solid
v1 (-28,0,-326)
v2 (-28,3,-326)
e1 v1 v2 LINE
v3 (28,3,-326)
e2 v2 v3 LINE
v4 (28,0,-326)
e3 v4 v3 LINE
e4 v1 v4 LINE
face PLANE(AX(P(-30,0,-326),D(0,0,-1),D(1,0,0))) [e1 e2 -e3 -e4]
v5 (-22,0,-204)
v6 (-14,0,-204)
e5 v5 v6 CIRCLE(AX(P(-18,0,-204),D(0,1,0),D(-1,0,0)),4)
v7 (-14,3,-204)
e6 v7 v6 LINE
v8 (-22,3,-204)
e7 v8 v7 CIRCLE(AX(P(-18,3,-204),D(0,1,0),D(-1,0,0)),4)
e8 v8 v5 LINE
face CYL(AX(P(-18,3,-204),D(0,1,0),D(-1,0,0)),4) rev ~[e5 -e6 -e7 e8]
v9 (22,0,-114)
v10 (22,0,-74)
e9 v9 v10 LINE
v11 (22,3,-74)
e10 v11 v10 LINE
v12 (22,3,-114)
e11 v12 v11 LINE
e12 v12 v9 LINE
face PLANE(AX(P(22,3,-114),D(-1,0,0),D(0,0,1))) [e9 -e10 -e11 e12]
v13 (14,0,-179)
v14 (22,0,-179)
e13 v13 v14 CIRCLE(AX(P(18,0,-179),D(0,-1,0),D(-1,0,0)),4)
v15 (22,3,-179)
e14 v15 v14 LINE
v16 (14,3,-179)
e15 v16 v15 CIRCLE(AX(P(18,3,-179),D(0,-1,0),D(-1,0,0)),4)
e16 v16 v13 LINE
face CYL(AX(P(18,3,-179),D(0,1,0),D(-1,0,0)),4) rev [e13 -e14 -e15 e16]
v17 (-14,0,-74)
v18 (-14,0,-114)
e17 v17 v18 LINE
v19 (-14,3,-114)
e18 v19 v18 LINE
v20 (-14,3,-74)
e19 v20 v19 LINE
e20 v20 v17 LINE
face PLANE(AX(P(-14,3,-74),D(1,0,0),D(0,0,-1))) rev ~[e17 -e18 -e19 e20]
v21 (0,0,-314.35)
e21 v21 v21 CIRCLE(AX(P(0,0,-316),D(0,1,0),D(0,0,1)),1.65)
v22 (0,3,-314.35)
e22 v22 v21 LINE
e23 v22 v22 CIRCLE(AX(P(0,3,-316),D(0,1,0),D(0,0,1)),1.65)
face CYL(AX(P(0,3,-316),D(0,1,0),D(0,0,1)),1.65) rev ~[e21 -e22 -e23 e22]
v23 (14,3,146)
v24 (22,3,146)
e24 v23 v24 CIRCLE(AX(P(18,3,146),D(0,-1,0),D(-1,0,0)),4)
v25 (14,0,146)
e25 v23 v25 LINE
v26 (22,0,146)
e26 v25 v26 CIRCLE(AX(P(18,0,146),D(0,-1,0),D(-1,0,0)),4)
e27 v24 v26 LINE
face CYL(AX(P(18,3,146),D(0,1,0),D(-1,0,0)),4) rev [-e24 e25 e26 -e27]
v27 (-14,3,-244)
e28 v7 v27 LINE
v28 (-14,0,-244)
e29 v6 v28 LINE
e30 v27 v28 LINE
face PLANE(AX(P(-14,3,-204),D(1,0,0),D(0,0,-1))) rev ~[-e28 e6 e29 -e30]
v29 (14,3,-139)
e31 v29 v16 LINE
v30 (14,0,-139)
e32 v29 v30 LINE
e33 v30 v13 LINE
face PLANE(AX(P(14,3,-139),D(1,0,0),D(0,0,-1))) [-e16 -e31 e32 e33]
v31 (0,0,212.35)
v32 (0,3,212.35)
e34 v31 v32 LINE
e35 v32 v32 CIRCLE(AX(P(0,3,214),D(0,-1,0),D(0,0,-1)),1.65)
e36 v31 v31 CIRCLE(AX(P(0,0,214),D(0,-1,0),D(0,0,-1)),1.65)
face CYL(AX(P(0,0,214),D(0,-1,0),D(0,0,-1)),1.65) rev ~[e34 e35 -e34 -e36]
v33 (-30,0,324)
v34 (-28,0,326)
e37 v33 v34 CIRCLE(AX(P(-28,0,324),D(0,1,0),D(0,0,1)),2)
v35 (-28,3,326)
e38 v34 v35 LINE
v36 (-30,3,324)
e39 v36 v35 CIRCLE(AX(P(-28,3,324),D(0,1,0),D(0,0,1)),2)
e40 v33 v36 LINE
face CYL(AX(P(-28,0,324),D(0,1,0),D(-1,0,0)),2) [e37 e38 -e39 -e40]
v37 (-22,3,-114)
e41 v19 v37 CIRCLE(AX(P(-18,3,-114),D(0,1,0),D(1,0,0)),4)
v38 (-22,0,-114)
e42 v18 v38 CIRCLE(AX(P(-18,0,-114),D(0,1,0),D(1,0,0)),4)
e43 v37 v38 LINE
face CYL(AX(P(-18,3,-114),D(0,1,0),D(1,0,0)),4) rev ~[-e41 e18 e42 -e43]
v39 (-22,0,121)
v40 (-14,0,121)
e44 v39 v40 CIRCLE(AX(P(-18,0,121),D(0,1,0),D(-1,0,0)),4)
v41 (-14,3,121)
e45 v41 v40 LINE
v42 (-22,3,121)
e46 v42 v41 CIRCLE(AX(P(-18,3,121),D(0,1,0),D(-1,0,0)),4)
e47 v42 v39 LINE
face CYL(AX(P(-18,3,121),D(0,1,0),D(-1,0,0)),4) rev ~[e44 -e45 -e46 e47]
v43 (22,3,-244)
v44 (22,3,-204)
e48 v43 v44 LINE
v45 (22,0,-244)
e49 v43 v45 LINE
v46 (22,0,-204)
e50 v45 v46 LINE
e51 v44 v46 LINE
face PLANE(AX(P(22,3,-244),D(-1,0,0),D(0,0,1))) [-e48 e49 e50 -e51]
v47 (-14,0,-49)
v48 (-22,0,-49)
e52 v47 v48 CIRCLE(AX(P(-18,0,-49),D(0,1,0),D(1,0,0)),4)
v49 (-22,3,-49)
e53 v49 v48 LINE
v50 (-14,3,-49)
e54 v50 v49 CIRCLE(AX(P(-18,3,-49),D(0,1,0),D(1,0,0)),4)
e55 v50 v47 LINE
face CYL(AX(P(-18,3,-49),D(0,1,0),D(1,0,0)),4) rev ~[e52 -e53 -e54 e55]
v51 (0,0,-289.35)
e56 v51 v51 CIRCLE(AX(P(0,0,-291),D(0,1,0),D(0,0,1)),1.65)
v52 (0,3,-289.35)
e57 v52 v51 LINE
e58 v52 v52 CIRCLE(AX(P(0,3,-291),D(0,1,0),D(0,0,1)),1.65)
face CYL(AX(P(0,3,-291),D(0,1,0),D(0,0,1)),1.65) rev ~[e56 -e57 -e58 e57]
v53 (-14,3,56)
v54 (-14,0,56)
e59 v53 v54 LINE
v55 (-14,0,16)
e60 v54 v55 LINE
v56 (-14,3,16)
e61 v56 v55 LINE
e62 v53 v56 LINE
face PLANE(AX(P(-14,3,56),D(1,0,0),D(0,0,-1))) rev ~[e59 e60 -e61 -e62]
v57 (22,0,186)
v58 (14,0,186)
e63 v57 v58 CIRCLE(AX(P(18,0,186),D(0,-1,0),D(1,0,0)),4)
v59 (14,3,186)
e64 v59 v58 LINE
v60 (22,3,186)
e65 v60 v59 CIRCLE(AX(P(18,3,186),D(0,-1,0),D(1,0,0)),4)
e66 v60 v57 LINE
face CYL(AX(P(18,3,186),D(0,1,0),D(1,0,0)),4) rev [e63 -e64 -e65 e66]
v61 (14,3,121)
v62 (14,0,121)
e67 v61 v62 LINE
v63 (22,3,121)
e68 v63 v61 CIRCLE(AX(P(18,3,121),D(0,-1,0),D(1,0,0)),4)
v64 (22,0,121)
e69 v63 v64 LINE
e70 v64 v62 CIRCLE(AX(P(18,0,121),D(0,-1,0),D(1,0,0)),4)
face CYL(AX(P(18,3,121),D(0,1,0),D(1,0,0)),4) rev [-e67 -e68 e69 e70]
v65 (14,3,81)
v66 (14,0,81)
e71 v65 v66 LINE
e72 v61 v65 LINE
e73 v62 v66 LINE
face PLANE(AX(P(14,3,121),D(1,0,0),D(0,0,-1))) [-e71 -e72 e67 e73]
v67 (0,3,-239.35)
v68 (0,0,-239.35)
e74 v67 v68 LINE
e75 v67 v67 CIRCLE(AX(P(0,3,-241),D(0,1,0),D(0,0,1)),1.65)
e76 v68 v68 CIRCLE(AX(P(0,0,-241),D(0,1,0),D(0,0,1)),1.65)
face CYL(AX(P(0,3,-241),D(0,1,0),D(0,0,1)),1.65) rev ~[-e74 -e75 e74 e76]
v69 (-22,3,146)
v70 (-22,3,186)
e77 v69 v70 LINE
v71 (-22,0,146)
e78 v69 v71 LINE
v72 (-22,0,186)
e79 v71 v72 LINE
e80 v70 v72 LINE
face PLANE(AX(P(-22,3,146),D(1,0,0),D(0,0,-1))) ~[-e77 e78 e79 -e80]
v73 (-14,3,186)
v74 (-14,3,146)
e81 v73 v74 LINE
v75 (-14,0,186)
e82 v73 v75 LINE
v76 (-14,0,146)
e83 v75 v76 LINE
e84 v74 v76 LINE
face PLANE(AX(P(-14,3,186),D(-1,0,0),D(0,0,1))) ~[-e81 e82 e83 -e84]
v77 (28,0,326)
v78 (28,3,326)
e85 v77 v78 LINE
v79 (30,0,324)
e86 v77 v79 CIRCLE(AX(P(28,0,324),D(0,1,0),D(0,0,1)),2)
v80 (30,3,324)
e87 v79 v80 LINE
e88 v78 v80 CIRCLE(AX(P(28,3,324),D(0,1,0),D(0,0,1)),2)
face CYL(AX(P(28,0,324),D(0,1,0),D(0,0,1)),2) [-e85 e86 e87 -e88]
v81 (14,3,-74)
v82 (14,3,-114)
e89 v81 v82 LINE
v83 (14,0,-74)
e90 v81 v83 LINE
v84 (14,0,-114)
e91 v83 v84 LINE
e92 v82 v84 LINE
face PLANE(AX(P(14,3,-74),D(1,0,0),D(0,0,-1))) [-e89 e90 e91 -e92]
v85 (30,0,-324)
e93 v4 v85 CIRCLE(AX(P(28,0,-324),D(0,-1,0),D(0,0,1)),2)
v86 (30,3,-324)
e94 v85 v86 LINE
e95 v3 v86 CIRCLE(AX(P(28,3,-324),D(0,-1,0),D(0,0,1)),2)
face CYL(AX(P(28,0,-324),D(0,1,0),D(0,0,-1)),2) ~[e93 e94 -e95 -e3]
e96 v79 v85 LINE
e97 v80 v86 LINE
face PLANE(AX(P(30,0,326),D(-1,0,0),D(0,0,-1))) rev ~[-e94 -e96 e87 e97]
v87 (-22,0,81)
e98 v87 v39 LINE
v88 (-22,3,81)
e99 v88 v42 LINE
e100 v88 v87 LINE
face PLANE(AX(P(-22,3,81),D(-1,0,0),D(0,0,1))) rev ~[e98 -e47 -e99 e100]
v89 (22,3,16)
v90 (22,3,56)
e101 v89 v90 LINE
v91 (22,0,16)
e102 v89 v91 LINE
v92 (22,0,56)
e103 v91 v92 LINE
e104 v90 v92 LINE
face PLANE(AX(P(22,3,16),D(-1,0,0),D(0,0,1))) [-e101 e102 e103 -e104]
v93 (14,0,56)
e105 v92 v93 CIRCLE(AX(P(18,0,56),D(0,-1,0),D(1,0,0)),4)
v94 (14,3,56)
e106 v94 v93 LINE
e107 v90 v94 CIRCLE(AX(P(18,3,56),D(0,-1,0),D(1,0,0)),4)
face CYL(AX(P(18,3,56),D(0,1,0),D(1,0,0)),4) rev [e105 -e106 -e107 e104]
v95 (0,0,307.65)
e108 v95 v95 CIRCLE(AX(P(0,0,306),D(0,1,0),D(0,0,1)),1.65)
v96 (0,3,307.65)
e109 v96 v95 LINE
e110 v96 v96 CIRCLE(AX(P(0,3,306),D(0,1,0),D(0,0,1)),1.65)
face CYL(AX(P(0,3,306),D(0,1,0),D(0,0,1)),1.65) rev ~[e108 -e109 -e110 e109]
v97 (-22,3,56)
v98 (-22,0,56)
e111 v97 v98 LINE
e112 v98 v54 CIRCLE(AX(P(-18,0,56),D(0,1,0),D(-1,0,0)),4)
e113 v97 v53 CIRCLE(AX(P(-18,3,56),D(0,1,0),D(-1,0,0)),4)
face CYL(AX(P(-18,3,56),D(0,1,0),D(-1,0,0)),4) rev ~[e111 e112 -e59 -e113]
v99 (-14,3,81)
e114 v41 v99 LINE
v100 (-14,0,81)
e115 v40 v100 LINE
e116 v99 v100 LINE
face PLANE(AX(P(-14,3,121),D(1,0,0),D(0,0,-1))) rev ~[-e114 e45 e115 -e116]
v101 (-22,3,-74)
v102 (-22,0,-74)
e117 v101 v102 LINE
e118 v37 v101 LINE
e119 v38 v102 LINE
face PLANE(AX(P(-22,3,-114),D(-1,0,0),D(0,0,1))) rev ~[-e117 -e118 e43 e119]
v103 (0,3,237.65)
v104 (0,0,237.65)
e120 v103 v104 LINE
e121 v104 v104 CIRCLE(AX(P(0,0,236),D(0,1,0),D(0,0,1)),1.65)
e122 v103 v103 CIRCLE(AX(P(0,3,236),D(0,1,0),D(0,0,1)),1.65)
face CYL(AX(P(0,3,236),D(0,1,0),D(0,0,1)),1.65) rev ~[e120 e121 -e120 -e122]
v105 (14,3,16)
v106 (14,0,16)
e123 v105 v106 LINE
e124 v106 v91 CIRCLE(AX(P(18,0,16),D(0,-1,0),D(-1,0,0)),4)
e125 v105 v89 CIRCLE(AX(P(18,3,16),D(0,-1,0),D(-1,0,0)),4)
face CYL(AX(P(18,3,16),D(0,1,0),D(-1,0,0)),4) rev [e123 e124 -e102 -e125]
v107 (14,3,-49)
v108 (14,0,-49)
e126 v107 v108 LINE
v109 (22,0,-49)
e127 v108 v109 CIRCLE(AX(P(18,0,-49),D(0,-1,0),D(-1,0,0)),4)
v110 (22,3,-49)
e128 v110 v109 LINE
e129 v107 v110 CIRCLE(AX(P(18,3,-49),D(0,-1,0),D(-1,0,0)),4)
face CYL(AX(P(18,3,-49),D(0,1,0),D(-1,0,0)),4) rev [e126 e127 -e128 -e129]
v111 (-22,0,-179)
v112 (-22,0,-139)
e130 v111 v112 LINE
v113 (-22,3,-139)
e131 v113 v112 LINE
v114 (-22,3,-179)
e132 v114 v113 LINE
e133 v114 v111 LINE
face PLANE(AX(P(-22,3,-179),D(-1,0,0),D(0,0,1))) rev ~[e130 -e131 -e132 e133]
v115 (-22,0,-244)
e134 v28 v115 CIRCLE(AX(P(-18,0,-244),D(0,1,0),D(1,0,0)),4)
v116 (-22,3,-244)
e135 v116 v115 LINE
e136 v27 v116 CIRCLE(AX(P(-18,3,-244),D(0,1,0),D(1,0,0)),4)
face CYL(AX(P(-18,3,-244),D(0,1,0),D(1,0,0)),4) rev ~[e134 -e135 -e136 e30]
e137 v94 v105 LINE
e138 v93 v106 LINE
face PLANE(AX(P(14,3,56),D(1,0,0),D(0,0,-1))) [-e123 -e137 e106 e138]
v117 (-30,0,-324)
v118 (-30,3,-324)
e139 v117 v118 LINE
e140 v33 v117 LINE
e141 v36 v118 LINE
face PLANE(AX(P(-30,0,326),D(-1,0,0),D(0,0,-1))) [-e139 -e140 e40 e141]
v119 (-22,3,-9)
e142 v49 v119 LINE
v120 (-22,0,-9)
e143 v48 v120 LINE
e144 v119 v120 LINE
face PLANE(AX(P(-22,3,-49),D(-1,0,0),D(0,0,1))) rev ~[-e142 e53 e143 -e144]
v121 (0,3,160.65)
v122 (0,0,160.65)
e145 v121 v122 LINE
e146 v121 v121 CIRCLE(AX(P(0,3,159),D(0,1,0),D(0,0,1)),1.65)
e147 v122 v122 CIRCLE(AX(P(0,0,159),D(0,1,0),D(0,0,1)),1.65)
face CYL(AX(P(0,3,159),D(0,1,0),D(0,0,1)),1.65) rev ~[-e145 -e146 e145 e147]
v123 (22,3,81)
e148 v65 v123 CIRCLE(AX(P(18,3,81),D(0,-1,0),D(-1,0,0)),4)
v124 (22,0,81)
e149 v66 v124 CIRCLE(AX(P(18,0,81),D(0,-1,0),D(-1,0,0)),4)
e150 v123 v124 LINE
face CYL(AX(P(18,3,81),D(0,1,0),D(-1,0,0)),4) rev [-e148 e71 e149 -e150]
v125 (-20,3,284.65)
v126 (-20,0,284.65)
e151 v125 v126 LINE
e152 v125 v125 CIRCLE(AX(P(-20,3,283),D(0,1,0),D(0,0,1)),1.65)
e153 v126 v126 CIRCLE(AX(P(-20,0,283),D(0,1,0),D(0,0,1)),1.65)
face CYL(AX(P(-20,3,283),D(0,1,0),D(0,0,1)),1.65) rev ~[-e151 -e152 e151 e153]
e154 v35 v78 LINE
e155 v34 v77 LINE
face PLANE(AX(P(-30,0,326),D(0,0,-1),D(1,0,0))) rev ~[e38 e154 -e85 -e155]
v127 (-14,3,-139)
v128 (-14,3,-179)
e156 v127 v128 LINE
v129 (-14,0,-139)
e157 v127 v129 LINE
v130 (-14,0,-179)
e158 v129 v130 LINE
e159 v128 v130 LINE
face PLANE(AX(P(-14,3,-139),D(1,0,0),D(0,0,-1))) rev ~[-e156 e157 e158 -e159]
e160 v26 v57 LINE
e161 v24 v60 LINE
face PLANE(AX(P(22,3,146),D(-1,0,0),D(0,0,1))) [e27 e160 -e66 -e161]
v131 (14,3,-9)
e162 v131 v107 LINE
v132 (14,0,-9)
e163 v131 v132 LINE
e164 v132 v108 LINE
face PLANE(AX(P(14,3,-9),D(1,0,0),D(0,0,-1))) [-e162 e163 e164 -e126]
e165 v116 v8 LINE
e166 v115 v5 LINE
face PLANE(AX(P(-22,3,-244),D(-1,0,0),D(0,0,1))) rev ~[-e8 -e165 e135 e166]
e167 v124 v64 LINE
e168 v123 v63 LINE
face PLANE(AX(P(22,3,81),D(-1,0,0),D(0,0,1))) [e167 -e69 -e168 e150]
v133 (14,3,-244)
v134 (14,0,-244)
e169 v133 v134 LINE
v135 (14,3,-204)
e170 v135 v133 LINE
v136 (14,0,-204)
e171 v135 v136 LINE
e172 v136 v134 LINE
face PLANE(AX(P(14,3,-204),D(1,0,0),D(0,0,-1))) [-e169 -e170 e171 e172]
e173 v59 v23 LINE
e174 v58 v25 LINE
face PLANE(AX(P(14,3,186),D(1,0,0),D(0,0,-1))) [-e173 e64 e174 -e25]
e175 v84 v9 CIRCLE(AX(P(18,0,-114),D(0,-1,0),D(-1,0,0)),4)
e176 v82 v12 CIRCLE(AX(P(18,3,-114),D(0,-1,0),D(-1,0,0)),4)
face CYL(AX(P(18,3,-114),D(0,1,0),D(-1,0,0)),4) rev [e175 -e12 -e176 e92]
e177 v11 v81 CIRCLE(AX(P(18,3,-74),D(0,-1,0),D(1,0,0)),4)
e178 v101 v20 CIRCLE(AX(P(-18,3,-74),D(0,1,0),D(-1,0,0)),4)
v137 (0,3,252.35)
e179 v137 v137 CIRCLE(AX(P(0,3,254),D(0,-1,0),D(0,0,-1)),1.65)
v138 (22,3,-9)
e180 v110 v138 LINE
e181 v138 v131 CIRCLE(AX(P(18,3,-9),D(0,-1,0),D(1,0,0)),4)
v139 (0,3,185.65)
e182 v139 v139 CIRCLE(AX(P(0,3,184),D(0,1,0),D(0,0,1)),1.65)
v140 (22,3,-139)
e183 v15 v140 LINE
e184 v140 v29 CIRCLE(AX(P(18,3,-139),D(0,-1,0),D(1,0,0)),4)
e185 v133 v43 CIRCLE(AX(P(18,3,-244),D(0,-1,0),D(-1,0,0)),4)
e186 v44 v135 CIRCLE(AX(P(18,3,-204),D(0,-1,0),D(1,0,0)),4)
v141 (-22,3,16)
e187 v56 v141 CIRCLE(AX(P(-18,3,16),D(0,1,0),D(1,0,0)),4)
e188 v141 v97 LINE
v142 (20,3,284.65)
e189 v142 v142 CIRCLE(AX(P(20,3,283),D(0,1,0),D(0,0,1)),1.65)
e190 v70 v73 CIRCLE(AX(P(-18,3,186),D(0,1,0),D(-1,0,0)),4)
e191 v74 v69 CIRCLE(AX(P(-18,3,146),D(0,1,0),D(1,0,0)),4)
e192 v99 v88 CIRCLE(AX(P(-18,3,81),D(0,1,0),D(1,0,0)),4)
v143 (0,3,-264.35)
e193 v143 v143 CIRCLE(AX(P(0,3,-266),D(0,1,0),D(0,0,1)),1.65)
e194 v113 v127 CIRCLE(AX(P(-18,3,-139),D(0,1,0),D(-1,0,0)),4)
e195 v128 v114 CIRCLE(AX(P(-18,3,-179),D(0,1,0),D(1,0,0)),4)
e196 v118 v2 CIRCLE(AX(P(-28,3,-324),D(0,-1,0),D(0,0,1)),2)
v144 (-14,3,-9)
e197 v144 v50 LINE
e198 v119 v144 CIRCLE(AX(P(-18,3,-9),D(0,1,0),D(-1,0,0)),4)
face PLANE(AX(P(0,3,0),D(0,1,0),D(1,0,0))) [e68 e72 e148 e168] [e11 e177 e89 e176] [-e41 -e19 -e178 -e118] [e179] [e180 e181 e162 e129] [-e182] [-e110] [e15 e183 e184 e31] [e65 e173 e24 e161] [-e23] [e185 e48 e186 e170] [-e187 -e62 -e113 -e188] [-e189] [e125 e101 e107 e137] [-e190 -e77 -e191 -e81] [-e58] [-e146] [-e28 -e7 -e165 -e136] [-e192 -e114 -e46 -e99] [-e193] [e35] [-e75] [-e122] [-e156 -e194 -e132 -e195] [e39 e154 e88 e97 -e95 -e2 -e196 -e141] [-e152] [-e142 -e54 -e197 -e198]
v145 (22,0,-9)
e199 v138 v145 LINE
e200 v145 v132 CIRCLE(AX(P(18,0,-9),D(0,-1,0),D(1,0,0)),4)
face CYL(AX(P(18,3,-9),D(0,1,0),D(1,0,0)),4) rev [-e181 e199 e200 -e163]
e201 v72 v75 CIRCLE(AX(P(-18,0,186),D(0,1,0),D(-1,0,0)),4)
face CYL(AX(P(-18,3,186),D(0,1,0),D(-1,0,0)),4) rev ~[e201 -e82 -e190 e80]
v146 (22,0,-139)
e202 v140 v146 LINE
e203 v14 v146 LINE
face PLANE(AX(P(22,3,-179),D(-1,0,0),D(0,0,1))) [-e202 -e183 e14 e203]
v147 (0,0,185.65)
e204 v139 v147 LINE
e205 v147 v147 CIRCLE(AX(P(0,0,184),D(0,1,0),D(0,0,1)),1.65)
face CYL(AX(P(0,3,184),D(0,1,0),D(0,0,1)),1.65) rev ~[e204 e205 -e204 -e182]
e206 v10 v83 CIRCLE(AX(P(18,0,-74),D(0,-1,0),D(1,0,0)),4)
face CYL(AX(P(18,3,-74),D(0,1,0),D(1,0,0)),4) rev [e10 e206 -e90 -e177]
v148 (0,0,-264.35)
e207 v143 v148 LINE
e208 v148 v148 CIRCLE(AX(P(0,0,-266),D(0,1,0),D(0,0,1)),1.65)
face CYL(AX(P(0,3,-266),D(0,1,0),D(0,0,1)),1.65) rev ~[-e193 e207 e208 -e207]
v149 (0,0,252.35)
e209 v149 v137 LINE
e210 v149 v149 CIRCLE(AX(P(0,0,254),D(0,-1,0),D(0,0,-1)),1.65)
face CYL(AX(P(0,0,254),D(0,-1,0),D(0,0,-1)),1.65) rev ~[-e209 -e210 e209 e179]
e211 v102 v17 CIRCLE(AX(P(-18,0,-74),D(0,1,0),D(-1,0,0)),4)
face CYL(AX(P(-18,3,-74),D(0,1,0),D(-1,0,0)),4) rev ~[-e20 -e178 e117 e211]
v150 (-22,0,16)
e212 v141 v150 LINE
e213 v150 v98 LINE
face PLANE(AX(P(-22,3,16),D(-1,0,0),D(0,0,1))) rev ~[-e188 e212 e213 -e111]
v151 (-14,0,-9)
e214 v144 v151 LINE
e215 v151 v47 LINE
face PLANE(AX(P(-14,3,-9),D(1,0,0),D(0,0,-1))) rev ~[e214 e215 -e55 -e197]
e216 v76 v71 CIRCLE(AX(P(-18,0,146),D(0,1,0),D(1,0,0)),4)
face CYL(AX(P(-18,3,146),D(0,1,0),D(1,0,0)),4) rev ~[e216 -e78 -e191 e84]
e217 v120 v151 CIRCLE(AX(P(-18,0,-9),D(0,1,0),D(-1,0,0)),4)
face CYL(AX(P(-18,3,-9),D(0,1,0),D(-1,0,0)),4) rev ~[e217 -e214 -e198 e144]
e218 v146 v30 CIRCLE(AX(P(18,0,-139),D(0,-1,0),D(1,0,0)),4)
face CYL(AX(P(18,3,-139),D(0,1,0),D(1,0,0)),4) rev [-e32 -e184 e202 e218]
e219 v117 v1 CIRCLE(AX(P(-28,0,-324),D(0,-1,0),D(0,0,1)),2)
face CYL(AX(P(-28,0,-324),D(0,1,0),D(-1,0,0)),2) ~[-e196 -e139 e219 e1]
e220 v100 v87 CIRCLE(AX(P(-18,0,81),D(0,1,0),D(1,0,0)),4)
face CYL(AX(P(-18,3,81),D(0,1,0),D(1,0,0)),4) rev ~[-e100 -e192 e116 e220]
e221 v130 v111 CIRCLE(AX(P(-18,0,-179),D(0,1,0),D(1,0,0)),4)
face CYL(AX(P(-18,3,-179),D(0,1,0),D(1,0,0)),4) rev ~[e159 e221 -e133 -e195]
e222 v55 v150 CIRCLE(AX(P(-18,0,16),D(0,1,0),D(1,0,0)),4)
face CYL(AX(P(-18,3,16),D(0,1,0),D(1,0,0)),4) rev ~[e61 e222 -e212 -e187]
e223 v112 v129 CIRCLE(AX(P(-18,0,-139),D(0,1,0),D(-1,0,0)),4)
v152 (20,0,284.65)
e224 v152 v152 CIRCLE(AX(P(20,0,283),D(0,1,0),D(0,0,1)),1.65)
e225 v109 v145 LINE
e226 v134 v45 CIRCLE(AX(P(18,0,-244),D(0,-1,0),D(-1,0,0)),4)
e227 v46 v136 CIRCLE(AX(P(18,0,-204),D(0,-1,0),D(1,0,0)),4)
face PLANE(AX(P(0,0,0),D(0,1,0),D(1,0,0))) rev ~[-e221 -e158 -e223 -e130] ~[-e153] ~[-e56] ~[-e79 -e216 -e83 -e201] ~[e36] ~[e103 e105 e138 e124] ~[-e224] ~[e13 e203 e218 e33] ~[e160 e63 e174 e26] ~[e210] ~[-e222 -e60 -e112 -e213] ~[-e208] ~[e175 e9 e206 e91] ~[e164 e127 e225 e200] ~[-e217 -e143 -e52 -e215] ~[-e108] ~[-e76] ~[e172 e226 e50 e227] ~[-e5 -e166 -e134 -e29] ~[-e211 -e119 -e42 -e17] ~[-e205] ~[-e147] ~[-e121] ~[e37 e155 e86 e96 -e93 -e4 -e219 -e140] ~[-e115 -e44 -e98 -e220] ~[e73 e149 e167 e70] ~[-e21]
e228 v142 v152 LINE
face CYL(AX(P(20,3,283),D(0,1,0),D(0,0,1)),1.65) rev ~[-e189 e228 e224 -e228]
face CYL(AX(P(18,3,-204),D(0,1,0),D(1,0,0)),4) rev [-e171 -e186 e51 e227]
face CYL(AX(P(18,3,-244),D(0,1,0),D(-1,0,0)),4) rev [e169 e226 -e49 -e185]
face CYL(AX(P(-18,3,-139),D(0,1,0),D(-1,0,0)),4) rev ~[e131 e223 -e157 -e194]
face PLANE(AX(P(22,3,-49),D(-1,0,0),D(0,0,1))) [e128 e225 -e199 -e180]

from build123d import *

# Parameters (mm, degrees)
SKETCH_1_W             = 60
SKETCH_1_H             = 652
EXTRUDE_1_DEPTH        = 3
SKETCH_2_R             = 1.65
CUT_EXTRUDE_1_DEPTH    = 3
FILLET_1_R             = 2
SKETCH_4_R             = 1.65
CUT_EXTRUDE_2_DEPTH    = 10
CUT_EXTRUDE_3_DEPTH    = 3
PATTERN_LINEAR_2_COUNT = 7
PATTERN_LINEAR_2_PITCH = 65
MIRROR_1_COPY_1_DEPTH  = 3
MIRROR_1_COPY_2_DEPTH  = 3
MIRROR_1_COPY_3_DEPTH  = 3
MIRROR_1_COPY_4_DEPTH  = 3
MIRROR_1_COPY_5_DEPTH  = 3
MIRROR_1_COPY_6_DEPTH  = 3
SKETCH_6_R             = 1.65
CUT_EXTRUDE_4_DEPTH    = 10


with BuildPart() as part:
    # 草图1 → 凸台-拉伸1 (new body)
    with BuildSketch(Plane(origin=(0, 0, 0), x_dir=(1, 0, 0), z_dir=(0, 1, 0))):
        Rectangle(SKETCH_1_W, SKETCH_1_H)
    extrude(amount=EXTRUDE_1_DEPTH)

    # 草图2 → 切除-拉伸1 (cut)
    with BuildSketch(Plane(origin=(0, 3, 0), x_dir=(1, 0, 0), z_dir=(0, 1, 0))):
        with Locations(Location((0, -306, 0), (0, 0, 270))):
            Circle(SKETCH_2_R)
        with Locations(Location((0, -236, 0), (0, 0, 270))):
            Circle(SKETCH_2_R)
        with Locations(Location((0, -184, 0), (0, 0, 270))):
            Circle(SKETCH_2_R)
        with Locations(Location((0, -159, 0), (0, 0, 270))):
            Circle(SKETCH_2_R)
        with Locations(Location((0, 316, 0), (0, 0, 270))):
            Circle(SKETCH_2_R)
        with Locations(Location((0, 291, 0), (0, 0, 270))):
            Circle(SKETCH_2_R)
        with Locations(Location((0, 266, 0), (0, 0, 270))):
            Circle(SKETCH_2_R)
        with Locations(Location((0, 241, 0), (0, 0, 270))):
            Circle(SKETCH_2_R)
    extrude(amount=-CUT_EXTRUDE_1_DEPTH, mode=Mode.SUBTRACT)

    # 圆角1
    fillet_1_edges = [part.edges().sort_by_distance(p)[0] for p in [
        (30, 1.5, 326),
        (-30, 1.5, 326),
        (-30, 1.5, -326),
        (30, 1.5, -326),
    ]]
    fillet(fillet_1_edges, radius=FILLET_1_R)

    # 草图4 → 切除-拉伸2 (cut)
    with BuildSketch(Plane(origin=(0, 3, 0), x_dir=(1, 0, 0), z_dir=(0, 1, 0))):
        with Locations(Location((20, -283, 0), (0, 0, 270))):
            Circle(SKETCH_4_R)
        with Locations(Location((-20, -283, 0), (0, 0, 270))):
            Circle(SKETCH_4_R)
    extrude(amount=-CUT_EXTRUDE_2_DEPTH, mode=Mode.SUBTRACT)

    # 草图5 → 切除-拉伸3 (cut)
    with BuildSketch(Plane(origin=(0, 3, 0), x_dir=(1, 0, 0), z_dir=(0, 1, 0))):
        with BuildLine():
            Line((14, -186), (14, -146))
            ThreePointArc((14, -146), (18, -142), (22, -146))
            Line((22, -146), (22, -186))
            ThreePointArc((22, -186), (18, -190), (14, -186))
        make_face()
    cut_extrude_3 = extrude(amount=-CUT_EXTRUDE_3_DEPTH, mode=Mode.SUBTRACT)

    # 阵列(线性)2: 切除-拉伸3 ×7
    with Locations(*[(0, 0, -i * PATTERN_LINEAR_2_PITCH) for i in range(1, PATTERN_LINEAR_2_COUNT)]):
        add(cut_extrude_3, mode=Mode.SUBTRACT)

    # 镜向1: 切除-拉伸3 across plane
    add(cut_extrude_3.mirror(Plane(origin=(0, 0, 0), x_dir=(0, 0, 1), z_dir=(1, 0, 0))), mode=Mode.SUBTRACT)

    # 镜向1 copy 1 sketch → 镜向1 copy 1 (cut)
    with BuildSketch(Plane(origin=(0, 3, -65), x_dir=(-1, 0, 0), z_dir=(0, 1, 0))):
        with BuildLine():
            Line((14, 186), (14, 146))
            ThreePointArc((14, 146), (18, 142), (22, 146))
            Line((22, 146), (22, 186))
            ThreePointArc((22, 186), (18, 190), (14, 186))
        make_face()
    extrude(amount=-MIRROR_1_COPY_1_DEPTH, mode=Mode.SUBTRACT)

    # 镜向1 copy 2 sketch → 镜向1 copy 2 (cut)
    with BuildSketch(Plane(origin=(0, 3, -130), x_dir=(-1, 0, 0), z_dir=(0, 1, 0))):
        with BuildLine():
            Line((14, 186), (14, 146))
            ThreePointArc((14, 146), (18, 142), (22, 146))
            Line((22, 146), (22, 186))
            ThreePointArc((22, 186), (18, 190), (14, 186))
        make_face()
    extrude(amount=-MIRROR_1_COPY_2_DEPTH, mode=Mode.SUBTRACT)

    # 镜向1 copy 3 sketch → 镜向1 copy 3 (cut)
    with BuildSketch(Plane(origin=(0, 3, -195), x_dir=(-1, 0, 0), z_dir=(0, 1, 0))):
        with BuildLine():
            Line((14, 186), (14, 146))
            ThreePointArc((14, 146), (18, 142), (22, 146))
            Line((22, 146), (22, 186))
            ThreePointArc((22, 186), (18, 190), (14, 186))
        make_face()
    extrude(amount=-MIRROR_1_COPY_3_DEPTH, mode=Mode.SUBTRACT)

    # 镜向1 copy 4 sketch → 镜向1 copy 4 (cut)
    with BuildSketch(Plane(origin=(0, 3, -260), x_dir=(-1, 0, 0), z_dir=(0, 1, 0))):
        with BuildLine():
            Line((14, 186), (14, 146))
            ThreePointArc((14, 146), (18, 142), (22, 146))
            Line((22, 146), (22, 186))
            ThreePointArc((22, 186), (18, 190), (14, 186))
        make_face()
    extrude(amount=-MIRROR_1_COPY_4_DEPTH, mode=Mode.SUBTRACT)

    # 镜向1 copy 5 sketch → 镜向1 copy 5 (cut)
    with BuildSketch(Plane(origin=(0, 3, -325), x_dir=(-1, 0, 0), z_dir=(0, 1, 0))):
        with BuildLine():
            Line((14, 186), (14, 146))
            ThreePointArc((14, 146), (18, 142), (22, 146))
            Line((22, 146), (22, 186))
            ThreePointArc((22, 186), (18, 190), (14, 186))
        make_face()
    extrude(amount=-MIRROR_1_COPY_5_DEPTH, mode=Mode.SUBTRACT)

    # 镜向1 copy 6 sketch → 镜向1 copy 6 (cut)
    with BuildSketch(Plane(origin=(0, 3, -390), x_dir=(-1, 0, 0), z_dir=(0, 1, 0))):
        with BuildLine():
            Line((14, 186), (14, 146))
            ThreePointArc((14, 146), (18, 142), (22, 146))
            Line((22, 146), (22, 186))
            ThreePointArc((22, 186), (18, 190), (14, 186))
        make_face()
    extrude(amount=-MIRROR_1_COPY_6_DEPTH, mode=Mode.SUBTRACT)

    # 草图6 → 切除-拉伸4 (cut)
    with BuildSketch(Plane.XZ):
        with Locations(Location((0, 254, 0), (0, 0, 270))):
            Circle(SKETCH_6_R)
        with Locations(Location((0, 214, 0), (0, 0, 270))):
            Circle(SKETCH_6_R)
    extrude(amount=-CUT_EXTRUDE_4_DEPTH, mode=Mode.SUBTRACT)


solid = part.part
